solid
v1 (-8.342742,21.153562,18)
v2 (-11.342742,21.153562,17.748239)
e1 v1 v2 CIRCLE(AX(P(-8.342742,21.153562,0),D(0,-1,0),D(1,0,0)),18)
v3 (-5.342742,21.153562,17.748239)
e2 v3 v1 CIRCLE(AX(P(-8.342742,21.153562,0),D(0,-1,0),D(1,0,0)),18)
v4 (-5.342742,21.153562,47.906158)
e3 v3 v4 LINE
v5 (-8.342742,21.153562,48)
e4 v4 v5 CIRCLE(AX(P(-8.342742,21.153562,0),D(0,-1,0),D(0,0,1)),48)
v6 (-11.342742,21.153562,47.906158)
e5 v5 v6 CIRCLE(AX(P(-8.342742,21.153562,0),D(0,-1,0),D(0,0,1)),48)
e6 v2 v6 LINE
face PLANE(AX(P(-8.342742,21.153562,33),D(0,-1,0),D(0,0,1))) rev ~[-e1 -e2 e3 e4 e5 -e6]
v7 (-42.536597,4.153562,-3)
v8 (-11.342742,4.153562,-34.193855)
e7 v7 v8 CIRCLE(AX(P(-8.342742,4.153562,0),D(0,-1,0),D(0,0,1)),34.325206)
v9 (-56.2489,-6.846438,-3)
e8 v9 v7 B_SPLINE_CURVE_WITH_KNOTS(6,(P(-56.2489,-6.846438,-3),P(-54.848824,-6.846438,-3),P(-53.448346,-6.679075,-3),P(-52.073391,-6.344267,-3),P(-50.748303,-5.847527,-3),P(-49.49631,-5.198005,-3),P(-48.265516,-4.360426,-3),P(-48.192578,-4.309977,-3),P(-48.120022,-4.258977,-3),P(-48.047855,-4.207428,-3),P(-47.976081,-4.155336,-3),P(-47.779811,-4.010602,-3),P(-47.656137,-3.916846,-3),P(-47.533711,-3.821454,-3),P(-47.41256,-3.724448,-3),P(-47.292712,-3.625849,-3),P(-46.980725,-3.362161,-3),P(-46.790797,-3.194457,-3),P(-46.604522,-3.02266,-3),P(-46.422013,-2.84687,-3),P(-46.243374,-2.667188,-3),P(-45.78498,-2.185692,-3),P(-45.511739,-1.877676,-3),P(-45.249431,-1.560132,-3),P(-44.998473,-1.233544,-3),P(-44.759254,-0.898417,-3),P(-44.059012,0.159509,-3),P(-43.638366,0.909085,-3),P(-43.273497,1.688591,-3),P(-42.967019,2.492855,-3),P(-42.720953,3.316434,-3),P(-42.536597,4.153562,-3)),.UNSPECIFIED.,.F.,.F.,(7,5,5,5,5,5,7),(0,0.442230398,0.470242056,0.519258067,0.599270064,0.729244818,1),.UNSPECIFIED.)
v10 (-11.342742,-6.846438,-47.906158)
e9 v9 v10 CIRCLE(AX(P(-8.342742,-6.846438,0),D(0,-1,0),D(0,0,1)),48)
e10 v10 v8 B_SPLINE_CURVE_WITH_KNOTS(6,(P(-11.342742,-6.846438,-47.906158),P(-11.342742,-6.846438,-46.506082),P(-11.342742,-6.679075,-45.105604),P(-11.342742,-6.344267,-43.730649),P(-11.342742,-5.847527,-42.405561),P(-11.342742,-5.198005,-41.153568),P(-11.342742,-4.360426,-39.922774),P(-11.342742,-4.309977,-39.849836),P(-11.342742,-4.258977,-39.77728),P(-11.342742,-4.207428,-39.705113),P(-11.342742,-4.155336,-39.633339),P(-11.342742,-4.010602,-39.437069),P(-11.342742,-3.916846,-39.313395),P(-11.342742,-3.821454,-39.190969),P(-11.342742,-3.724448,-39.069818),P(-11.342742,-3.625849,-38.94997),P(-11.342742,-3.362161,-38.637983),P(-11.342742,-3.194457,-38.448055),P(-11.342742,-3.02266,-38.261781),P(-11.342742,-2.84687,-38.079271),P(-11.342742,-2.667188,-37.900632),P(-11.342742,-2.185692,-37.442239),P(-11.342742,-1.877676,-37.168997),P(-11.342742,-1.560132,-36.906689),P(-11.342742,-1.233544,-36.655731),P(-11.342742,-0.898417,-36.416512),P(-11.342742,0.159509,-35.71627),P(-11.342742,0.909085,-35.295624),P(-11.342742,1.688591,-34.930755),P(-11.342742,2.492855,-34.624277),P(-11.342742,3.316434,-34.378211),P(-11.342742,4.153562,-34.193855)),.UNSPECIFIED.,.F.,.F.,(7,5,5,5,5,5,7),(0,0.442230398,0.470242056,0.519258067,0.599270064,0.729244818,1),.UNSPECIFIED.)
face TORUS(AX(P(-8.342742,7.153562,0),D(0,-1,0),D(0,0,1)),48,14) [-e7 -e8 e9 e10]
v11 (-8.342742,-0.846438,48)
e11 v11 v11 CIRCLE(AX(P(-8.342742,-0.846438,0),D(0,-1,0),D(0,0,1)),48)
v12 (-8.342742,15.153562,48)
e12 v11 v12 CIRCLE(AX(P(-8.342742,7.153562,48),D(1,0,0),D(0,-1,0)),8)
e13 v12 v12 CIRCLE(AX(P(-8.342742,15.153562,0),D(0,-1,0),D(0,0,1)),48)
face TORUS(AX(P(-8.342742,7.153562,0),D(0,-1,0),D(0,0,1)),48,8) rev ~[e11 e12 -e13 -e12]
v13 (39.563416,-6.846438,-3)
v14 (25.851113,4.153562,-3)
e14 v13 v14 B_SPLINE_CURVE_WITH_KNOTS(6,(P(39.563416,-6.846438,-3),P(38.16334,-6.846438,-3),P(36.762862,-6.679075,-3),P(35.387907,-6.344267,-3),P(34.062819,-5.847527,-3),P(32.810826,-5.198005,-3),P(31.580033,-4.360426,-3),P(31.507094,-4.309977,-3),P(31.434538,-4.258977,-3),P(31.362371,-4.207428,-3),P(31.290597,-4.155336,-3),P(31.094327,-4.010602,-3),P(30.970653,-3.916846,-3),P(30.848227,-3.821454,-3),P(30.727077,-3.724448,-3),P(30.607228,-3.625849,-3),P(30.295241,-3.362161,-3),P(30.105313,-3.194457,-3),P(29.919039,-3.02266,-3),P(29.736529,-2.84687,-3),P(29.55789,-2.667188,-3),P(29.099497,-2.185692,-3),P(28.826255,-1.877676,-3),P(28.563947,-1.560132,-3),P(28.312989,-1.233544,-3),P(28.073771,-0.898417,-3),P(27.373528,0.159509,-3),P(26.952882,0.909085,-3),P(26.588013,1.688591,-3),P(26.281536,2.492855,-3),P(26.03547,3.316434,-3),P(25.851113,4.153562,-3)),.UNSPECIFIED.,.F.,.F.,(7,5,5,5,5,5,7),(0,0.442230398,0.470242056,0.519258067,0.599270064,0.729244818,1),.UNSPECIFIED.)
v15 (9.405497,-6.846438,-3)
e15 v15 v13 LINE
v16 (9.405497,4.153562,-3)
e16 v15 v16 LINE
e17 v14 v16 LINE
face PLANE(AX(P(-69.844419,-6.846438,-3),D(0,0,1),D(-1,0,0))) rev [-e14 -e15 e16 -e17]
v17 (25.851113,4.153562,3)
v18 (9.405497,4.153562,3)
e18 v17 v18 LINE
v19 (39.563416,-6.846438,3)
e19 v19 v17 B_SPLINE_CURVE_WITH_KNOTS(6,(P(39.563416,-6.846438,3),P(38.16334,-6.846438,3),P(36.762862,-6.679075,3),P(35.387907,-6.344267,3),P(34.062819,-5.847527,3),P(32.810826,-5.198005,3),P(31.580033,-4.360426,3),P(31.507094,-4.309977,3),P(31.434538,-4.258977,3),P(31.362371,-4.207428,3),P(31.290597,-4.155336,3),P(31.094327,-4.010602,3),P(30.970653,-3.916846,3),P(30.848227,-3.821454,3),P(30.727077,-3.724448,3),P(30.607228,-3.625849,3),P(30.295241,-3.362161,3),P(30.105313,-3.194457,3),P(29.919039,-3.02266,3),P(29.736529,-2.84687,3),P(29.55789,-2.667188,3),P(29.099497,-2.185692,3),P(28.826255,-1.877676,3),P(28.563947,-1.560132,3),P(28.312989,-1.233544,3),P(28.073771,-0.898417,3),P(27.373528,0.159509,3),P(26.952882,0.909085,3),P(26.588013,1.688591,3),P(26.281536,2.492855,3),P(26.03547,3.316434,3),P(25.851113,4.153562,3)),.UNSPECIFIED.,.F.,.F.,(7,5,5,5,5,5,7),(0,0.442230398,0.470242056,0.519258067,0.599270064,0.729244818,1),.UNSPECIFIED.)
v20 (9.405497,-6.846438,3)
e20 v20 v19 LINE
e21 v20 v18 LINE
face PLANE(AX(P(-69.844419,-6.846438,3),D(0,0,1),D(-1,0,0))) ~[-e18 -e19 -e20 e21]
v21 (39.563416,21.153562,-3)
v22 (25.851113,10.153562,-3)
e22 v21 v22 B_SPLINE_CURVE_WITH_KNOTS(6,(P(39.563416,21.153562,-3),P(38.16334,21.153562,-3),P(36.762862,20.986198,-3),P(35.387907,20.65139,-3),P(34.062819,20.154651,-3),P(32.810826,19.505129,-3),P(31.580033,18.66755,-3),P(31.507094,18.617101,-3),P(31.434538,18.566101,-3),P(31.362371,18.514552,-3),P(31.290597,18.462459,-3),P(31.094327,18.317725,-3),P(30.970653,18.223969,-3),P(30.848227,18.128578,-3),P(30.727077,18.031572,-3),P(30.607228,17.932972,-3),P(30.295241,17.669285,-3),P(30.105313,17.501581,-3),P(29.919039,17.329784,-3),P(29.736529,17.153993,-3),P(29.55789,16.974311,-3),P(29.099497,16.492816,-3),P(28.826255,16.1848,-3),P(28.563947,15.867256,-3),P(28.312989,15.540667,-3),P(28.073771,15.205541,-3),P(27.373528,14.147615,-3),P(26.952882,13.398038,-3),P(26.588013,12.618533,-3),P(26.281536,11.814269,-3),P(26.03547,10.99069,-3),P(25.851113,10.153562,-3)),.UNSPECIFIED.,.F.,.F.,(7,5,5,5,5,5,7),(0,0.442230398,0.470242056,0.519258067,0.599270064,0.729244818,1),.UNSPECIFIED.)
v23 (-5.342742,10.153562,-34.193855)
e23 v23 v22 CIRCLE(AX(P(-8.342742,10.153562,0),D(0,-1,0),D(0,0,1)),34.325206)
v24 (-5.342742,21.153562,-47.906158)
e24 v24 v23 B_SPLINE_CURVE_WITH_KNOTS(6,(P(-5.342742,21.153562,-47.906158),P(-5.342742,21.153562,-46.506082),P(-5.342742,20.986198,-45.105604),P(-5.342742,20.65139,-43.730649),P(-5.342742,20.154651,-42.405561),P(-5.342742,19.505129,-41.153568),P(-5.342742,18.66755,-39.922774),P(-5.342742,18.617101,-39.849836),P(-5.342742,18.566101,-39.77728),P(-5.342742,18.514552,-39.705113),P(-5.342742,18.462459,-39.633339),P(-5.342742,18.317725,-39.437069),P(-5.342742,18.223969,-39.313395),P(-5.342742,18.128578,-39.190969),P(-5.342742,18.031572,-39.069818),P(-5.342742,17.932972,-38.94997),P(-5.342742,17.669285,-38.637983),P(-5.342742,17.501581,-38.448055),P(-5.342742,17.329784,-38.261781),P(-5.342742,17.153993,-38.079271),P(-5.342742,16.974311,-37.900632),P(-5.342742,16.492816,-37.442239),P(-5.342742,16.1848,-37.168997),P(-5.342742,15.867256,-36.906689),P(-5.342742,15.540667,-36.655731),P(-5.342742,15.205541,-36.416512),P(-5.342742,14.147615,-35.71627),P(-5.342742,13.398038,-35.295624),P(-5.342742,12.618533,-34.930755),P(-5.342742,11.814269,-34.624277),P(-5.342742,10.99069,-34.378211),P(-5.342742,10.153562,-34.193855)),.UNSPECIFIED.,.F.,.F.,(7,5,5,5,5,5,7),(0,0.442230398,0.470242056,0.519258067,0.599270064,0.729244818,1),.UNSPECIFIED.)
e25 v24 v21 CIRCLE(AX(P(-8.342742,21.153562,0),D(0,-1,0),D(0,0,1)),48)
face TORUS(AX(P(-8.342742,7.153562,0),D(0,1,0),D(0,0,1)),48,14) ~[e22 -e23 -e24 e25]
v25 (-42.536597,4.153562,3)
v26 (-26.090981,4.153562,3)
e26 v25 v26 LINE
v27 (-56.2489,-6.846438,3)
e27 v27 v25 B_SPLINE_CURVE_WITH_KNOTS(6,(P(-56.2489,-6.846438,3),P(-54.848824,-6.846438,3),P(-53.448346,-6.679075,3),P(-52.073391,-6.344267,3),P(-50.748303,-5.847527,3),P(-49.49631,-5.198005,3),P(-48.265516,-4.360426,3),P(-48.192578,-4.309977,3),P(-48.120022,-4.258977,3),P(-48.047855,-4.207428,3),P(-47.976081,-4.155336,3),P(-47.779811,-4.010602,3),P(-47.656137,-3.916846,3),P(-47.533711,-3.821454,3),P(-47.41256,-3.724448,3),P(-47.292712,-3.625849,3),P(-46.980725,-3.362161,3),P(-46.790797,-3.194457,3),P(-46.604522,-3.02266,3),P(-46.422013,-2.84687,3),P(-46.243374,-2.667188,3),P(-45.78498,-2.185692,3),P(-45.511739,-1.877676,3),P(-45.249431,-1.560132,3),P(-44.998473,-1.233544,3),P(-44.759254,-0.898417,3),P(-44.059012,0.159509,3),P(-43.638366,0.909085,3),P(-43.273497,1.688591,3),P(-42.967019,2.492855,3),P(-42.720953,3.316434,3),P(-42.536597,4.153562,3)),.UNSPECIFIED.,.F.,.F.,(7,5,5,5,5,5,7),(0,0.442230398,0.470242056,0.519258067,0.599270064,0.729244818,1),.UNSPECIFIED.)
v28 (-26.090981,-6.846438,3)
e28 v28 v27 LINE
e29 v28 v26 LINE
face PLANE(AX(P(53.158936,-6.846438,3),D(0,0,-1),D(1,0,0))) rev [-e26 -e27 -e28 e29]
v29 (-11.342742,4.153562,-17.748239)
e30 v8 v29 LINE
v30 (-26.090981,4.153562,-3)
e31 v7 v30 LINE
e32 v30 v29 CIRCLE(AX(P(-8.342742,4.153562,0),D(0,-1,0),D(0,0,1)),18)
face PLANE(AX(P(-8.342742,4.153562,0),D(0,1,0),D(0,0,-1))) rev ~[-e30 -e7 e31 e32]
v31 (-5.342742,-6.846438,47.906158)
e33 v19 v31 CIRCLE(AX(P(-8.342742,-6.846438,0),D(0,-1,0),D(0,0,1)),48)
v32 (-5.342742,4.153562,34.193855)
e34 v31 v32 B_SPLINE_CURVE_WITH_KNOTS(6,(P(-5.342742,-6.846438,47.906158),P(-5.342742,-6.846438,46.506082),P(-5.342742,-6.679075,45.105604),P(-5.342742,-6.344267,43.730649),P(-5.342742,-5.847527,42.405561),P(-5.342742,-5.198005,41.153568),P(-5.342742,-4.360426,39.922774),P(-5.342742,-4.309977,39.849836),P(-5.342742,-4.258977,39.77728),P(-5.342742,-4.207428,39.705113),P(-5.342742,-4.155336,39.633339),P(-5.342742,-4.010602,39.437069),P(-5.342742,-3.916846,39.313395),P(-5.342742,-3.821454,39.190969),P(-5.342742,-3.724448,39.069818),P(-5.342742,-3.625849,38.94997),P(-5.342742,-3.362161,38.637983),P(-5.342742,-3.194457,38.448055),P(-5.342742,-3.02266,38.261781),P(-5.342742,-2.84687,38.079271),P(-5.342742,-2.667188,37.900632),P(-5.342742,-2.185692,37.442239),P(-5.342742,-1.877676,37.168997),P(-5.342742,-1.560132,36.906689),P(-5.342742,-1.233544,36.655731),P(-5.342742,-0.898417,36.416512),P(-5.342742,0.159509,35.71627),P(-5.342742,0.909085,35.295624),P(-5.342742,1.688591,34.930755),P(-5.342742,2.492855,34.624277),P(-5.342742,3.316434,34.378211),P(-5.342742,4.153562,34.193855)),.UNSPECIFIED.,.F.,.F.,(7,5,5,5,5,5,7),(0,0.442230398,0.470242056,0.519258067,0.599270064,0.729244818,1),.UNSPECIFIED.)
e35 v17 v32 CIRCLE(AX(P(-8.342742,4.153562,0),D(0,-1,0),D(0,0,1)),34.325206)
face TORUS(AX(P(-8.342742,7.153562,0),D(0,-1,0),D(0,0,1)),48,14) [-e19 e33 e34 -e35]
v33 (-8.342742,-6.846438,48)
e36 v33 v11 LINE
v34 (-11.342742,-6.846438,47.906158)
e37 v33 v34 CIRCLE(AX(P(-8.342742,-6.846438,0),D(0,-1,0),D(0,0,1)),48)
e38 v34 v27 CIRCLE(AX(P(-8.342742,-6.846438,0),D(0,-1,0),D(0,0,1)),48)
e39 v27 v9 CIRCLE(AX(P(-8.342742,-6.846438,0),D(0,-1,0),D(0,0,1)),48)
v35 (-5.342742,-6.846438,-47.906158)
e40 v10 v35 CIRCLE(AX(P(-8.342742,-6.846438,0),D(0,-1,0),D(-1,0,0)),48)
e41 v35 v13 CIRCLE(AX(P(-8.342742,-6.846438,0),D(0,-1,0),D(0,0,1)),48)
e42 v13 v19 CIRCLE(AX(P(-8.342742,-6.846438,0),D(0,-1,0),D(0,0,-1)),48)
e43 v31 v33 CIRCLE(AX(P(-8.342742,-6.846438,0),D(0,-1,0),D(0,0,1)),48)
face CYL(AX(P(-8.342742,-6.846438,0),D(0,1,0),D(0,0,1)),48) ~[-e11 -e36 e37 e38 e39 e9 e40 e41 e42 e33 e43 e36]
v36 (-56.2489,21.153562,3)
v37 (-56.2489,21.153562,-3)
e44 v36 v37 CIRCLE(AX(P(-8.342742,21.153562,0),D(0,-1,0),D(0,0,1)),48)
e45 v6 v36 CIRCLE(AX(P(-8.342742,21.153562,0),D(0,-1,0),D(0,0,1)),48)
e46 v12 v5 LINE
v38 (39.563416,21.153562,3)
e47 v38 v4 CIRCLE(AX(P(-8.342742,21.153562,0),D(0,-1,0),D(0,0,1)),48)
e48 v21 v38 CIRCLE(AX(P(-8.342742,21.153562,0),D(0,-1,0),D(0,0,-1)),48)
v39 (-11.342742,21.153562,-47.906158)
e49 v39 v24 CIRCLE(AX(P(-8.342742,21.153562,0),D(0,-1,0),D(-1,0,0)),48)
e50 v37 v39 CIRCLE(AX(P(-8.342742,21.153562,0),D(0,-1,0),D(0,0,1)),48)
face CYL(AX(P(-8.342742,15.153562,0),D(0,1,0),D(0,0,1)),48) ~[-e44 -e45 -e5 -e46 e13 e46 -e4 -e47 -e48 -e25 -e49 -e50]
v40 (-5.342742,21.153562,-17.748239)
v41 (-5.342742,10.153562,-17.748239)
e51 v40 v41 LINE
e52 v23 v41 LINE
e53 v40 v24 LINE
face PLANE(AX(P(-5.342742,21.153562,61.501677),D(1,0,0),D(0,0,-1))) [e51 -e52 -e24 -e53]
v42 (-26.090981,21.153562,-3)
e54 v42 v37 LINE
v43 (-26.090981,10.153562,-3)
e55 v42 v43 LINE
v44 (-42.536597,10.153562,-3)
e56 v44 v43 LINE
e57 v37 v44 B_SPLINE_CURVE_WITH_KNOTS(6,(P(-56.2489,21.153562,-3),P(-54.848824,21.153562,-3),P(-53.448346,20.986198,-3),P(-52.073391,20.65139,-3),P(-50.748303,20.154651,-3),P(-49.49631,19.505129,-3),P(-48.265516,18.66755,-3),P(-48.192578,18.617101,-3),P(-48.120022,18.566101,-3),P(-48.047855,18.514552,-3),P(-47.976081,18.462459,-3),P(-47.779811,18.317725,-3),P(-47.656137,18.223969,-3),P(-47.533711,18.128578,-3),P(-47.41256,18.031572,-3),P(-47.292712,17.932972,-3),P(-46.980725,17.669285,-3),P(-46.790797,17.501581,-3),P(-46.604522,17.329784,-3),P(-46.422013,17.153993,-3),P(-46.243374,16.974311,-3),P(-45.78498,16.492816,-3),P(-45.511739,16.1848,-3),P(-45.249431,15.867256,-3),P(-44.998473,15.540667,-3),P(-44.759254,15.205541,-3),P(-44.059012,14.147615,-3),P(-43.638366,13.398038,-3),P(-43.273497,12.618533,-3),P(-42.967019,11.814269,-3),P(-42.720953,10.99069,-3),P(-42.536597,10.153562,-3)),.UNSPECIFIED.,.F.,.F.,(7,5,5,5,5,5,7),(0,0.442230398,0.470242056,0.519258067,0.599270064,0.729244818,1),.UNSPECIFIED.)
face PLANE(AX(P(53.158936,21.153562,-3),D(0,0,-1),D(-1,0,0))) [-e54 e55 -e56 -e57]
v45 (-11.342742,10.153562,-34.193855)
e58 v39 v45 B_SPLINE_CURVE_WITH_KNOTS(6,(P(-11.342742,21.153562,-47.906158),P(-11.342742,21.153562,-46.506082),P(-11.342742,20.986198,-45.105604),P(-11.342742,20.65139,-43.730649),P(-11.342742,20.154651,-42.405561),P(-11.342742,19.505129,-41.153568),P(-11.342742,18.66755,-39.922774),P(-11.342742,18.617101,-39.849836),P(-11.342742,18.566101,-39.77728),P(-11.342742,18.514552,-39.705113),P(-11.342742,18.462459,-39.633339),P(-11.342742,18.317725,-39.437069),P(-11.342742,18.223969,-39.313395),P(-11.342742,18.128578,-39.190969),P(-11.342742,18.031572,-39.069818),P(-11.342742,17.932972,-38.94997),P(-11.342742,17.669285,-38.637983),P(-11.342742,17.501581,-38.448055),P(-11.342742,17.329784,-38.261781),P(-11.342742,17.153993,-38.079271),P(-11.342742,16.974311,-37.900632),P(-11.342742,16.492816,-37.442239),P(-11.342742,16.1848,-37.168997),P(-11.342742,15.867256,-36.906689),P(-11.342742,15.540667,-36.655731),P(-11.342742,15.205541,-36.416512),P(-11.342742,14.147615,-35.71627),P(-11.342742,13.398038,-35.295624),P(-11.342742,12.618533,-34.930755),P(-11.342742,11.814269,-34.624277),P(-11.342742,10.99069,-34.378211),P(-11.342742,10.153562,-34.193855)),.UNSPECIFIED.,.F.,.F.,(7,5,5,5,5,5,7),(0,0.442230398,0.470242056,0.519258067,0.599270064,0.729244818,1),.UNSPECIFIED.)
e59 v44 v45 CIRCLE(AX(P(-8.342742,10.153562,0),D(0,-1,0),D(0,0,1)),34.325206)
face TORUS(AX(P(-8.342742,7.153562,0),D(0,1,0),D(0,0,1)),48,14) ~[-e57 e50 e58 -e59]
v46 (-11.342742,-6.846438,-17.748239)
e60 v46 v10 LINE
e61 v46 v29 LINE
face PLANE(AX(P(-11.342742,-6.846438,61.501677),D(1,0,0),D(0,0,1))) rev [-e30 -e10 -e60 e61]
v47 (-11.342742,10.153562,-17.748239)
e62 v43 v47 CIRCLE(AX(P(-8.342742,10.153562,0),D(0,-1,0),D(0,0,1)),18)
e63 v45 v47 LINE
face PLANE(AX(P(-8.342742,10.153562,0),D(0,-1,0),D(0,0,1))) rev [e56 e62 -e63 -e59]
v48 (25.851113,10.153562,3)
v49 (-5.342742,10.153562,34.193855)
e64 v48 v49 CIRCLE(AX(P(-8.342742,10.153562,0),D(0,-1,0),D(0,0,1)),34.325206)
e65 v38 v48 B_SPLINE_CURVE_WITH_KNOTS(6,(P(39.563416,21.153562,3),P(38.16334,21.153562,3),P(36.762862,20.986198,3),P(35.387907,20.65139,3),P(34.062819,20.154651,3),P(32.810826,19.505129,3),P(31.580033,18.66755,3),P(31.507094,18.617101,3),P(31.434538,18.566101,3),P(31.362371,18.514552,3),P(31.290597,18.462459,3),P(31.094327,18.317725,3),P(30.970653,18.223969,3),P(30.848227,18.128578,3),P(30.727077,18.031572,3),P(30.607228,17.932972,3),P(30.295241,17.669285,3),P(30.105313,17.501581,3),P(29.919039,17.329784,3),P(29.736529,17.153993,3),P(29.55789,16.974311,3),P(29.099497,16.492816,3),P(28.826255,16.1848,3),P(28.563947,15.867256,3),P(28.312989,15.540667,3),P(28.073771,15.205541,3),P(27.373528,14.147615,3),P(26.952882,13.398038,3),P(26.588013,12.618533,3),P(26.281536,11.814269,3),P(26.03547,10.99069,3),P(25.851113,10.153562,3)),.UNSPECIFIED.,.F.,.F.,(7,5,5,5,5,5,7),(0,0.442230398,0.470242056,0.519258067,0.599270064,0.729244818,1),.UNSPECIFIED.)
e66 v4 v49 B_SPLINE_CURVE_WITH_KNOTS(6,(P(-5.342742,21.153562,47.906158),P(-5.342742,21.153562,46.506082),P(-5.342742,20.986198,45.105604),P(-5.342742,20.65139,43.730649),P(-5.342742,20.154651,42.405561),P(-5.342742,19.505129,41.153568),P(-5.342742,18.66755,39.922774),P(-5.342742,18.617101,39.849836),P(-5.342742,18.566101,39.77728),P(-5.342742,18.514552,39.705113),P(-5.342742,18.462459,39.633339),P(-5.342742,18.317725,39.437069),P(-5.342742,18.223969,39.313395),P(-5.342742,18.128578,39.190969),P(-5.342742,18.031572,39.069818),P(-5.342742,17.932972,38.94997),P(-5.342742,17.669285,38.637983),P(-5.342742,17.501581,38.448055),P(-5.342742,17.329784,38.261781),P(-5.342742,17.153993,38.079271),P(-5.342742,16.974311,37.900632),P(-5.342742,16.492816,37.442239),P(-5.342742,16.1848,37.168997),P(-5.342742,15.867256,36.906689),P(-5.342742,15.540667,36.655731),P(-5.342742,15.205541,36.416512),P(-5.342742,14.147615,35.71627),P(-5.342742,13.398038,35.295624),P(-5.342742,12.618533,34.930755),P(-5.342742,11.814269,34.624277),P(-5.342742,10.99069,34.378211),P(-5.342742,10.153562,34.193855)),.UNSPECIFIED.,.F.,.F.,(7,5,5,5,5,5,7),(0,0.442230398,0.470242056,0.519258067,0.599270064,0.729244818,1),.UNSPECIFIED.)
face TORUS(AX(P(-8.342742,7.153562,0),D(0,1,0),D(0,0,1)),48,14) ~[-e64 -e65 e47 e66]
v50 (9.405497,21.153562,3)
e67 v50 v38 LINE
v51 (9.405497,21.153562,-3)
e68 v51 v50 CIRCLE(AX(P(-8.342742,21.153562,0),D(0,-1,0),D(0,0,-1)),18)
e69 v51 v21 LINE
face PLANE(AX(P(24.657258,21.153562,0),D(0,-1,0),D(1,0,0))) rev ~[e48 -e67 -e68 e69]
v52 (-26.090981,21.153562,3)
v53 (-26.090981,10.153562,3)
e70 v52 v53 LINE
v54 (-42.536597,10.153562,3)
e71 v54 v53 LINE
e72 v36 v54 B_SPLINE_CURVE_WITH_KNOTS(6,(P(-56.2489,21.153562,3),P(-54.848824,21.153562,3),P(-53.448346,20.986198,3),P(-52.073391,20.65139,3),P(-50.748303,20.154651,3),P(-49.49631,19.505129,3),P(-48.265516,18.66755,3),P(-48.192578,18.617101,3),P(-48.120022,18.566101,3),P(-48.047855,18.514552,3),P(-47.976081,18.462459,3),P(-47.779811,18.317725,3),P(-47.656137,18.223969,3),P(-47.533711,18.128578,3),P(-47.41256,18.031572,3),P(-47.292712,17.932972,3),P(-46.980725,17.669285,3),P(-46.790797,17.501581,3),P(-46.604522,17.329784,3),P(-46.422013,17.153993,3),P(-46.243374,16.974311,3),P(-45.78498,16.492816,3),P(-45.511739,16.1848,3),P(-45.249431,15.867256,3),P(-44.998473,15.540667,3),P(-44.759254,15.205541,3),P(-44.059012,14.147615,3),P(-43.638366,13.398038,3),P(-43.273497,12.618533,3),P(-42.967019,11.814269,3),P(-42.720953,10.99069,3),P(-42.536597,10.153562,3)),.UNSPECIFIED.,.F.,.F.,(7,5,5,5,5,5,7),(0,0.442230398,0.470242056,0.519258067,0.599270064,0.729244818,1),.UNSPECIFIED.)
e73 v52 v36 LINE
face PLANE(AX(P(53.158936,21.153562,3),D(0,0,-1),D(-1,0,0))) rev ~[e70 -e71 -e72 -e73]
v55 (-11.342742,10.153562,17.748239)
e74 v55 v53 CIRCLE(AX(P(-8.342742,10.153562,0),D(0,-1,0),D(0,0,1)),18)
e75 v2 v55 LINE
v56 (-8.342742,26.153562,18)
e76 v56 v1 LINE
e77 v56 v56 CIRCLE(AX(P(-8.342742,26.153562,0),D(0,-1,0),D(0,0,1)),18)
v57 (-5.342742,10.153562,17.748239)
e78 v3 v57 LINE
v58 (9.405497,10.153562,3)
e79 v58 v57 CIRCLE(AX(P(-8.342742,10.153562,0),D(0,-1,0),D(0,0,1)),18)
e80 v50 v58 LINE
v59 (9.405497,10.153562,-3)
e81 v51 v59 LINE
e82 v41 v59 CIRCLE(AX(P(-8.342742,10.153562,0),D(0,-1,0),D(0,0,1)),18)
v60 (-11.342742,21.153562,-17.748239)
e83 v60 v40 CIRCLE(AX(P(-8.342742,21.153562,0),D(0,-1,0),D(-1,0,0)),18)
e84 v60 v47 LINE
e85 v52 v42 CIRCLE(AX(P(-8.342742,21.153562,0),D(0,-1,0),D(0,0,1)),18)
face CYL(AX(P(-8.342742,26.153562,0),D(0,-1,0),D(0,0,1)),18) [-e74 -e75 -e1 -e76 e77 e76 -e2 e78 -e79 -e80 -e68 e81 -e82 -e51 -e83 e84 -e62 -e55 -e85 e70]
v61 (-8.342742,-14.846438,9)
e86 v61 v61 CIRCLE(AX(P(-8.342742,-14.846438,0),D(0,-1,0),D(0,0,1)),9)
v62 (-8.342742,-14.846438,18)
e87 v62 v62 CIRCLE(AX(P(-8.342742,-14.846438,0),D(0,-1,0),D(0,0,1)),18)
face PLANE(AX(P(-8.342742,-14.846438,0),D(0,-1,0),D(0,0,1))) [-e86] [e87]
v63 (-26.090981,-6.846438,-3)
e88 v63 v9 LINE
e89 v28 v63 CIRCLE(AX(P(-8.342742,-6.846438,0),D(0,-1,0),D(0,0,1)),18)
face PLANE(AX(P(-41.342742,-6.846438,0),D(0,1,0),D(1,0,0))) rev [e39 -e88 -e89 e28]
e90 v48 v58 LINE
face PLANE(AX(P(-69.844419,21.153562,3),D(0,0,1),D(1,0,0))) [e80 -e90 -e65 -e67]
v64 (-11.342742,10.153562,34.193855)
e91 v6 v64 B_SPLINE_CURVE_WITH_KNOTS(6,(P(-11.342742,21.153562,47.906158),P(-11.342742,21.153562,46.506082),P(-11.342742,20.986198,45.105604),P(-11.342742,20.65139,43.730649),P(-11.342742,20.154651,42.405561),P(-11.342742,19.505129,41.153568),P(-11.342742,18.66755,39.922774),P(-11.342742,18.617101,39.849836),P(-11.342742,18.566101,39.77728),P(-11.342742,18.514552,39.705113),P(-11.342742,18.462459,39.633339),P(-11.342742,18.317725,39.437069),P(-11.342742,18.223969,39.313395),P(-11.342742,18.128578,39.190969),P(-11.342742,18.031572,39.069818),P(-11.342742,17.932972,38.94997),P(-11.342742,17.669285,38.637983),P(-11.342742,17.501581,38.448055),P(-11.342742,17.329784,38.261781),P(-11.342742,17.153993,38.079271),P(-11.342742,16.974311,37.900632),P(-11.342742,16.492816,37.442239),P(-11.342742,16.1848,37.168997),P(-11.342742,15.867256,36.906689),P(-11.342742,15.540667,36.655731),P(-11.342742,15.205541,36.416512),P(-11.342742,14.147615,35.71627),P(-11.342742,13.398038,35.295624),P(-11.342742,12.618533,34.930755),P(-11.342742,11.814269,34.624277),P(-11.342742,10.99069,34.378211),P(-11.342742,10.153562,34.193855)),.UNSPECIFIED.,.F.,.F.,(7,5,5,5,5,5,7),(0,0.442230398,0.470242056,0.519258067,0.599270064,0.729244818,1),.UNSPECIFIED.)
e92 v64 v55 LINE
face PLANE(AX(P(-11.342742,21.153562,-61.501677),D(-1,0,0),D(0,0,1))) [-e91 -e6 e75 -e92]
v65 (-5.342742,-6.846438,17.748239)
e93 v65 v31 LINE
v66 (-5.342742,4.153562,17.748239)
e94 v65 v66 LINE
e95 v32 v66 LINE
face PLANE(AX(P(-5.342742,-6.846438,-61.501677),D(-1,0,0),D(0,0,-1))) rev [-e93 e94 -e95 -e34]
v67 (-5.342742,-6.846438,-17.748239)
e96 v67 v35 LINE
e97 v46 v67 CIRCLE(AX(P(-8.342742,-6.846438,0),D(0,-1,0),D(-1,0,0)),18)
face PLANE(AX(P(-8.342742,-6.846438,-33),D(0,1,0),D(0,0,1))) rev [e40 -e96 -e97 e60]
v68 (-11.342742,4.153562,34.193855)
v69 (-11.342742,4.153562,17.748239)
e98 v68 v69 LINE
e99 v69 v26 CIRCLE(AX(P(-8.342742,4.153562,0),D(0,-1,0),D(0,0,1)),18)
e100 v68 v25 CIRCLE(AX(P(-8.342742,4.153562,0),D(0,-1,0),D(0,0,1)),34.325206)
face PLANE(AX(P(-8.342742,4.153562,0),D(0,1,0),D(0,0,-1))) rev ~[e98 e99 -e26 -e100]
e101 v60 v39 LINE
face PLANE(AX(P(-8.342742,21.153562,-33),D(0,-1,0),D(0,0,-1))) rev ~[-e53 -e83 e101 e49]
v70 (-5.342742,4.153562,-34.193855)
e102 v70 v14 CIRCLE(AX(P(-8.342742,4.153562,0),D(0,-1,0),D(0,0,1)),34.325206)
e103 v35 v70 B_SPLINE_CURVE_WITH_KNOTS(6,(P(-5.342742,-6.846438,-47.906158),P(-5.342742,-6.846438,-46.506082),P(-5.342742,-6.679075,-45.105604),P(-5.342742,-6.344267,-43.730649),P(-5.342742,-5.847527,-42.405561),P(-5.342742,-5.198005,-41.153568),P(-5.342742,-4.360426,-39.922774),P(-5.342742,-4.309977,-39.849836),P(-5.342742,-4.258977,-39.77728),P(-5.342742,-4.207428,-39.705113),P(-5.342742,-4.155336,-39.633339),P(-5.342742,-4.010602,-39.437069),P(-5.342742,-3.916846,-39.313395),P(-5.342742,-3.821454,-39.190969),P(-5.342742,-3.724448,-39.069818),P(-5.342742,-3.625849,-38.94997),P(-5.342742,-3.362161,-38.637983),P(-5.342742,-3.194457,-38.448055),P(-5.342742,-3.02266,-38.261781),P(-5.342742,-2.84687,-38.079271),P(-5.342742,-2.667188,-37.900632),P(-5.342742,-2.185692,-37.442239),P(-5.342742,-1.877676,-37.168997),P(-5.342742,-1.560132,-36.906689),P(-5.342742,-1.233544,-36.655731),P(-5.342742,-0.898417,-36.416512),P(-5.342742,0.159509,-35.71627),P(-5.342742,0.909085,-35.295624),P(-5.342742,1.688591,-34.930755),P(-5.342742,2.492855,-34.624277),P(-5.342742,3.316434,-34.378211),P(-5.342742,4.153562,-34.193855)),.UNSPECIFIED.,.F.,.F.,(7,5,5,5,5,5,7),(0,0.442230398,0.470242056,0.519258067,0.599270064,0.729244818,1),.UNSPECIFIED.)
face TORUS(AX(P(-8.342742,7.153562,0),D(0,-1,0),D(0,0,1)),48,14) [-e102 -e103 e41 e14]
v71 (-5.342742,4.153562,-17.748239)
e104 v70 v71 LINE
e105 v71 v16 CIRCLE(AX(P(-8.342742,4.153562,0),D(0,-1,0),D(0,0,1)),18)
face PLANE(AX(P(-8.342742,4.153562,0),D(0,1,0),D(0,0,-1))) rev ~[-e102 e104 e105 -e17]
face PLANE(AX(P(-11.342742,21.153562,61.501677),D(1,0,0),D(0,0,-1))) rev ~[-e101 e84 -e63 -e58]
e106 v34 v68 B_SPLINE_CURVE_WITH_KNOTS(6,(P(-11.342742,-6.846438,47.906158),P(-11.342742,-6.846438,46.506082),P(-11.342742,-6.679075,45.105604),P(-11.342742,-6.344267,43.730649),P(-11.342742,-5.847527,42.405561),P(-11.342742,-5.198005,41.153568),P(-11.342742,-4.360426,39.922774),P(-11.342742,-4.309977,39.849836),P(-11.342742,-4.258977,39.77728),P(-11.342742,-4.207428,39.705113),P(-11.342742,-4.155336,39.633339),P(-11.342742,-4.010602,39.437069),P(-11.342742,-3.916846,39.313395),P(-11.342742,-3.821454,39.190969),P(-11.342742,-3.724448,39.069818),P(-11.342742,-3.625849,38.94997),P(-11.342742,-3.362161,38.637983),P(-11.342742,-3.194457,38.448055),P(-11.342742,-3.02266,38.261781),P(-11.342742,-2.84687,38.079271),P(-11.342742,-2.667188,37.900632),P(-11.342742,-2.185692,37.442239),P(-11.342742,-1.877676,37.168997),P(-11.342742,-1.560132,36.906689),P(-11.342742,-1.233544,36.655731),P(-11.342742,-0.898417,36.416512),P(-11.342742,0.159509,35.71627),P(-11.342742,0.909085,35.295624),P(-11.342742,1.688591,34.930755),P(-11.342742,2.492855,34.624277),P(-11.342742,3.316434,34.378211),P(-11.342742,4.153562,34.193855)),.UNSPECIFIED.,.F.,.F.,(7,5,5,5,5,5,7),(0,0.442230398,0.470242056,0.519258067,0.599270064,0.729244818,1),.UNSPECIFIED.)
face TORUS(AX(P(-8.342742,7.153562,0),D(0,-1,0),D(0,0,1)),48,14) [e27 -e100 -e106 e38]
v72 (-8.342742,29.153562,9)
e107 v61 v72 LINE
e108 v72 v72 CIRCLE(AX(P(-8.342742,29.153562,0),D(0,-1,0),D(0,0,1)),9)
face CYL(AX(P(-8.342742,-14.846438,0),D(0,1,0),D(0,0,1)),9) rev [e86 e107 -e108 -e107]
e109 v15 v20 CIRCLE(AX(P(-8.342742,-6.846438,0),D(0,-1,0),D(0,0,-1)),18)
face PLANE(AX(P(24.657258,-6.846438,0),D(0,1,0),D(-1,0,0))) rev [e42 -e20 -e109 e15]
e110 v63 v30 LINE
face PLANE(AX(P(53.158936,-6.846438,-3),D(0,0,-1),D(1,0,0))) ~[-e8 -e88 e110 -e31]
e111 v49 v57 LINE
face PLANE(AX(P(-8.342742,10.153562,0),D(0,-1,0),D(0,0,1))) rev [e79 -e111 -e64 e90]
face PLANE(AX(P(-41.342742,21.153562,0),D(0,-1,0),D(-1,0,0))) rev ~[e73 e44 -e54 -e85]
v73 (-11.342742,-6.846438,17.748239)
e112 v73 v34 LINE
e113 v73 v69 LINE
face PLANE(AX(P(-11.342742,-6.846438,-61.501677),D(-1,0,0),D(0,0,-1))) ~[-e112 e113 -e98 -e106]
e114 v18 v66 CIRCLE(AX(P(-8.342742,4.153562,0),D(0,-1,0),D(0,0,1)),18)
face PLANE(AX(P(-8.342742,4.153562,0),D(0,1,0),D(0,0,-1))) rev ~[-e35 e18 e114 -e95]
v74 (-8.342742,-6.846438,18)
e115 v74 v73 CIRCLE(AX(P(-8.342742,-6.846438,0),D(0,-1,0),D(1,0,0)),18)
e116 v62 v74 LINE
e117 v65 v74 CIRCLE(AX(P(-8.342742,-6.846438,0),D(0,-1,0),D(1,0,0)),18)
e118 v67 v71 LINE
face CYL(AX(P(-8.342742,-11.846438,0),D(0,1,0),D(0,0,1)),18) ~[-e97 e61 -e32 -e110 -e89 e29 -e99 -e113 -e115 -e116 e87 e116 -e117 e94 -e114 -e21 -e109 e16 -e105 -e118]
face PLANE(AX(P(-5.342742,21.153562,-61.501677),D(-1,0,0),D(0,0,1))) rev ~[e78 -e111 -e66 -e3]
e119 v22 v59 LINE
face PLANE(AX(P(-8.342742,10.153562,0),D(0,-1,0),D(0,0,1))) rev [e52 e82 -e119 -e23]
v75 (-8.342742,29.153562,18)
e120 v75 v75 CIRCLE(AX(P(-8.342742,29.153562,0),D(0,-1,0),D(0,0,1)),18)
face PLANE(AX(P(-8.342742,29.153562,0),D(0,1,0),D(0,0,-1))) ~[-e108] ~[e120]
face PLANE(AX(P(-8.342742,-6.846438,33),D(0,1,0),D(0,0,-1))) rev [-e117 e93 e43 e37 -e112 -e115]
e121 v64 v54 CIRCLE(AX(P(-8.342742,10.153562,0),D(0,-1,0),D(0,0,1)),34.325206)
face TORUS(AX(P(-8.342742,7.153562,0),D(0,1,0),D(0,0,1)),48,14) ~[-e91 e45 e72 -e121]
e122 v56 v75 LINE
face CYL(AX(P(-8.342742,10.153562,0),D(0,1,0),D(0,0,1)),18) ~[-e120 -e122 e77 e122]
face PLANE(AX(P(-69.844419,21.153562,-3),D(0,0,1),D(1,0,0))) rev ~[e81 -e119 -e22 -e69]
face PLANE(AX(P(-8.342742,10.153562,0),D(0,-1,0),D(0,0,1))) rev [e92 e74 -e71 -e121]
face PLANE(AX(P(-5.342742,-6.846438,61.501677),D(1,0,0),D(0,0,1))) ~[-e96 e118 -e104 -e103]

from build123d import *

# Parameters (mm, degrees)
RIB9_REACH        = 80.502
SKETCH5_WALL_W    = 189.003354934
SKETCH5_WALL_H    = 6
CIRPATTERN1_COUNT = 4


with BuildPart() as part:
    # Sketch1 → Revolve2 (revolve)
    with BuildSketch(Plane.XY, mode=Mode.PRIVATE) as revolve2_sk:
        with BuildLine():
            ThreePointArc((-56.342741935, -0.846438172), (-48.342741935, 7.153561828), (-56.342741935, 15.153561828))
            Line((-56.342741935, 15.153561828), (-56.342741935, 21.153561828))
            ThreePointArc((-56.342741935, 21.153561828), (-42.342741935, 7.153561828), (-56.342741935, -6.846438172))
            Line((-56.342741935, -6.846438172), (-56.342741935, -0.846438172))
        make_face()
        with BuildLine():
            Line((-17.342741935, -14.846438172), (-17.342741935, 26.153561828))
            Line((-17.342741935, 26.153561828), (-26.342741935, 26.153561828))
            Line((-26.342741935, 26.153561828), (-26.342741935, 21.153561828))
            Line((-26.342741935, 21.153561828), (-26.342741935, 18.153561828))
            Line((-26.342741935, 18.153561828), (-26.342741935, 10.153561828))
            Line((-26.342741935, 10.153561828), (-42.667947604, 10.153561828))
            ThreePointArc((-42.667947604, 10.153561828), (-42.342741935, 7.153561828), (-42.667947604, 4.153561828))
            Line((-42.667947604, 4.153561828), (-26.342741935, 4.153561828))
            Line((-26.342741935, 4.153561828), (-26.342741935, -3.846438172))
            Line((-26.342741935, -3.846438172), (-26.342741935, -6.846438172))
            Line((-26.342741935, -6.846438172), (-26.342741935, -14.846438172))
            Line((-26.342741935, -14.846438172), (-17.342741935, -14.846438172))
        make_face()
    revolve(revolve2_sk.sketch.rotate(Axis((-8.342741935, 57.152217742, 0), (0, -1, 0)), 270), axis=Axis((-8.342741935, 57.152217742, 0), (0, -1, 0)))

    # Sketch5 wall → Rib9 (add, up to next)
    with BuildSketch(Plane(origin=(-41.342741935, 21.153561828, 0), x_dir=(-1, 0, 0), z_dir=(0, -1, 0)), mode=Mode.PRIVATE) as rib9_sk1:
        Rectangle(SKETCH5_WALL_W, SKETCH5_WALL_H)
    rib9_tool1 = extrude(rib9_sk1.sketch, amount=RIB9_REACH, mode=Mode.PRIVATE) - part.part
    rib9 = rib9_tool1.solids().sort_by_distance((-41.342741935, 21.153561828, 0))[0]
    add(rib9)

    # CirPattern1: Rib9 ×4 about axis
    cirpattern1_axis = Axis((-8.342741935, 0, 0), (0, 1, 0))
    for i in range(1, CIRPATTERN1_COUNT):
        add(rib9.rotate(cirpattern1_axis, i * 360 / CIRPATTERN1_COUNT))

    # Mirror1: part across plane


with BuildPart() as part_1:
    add(part.part)
    add(part.part.mirror(Plane.ZX.offset(7.153561828)))


solid = part_1.part
